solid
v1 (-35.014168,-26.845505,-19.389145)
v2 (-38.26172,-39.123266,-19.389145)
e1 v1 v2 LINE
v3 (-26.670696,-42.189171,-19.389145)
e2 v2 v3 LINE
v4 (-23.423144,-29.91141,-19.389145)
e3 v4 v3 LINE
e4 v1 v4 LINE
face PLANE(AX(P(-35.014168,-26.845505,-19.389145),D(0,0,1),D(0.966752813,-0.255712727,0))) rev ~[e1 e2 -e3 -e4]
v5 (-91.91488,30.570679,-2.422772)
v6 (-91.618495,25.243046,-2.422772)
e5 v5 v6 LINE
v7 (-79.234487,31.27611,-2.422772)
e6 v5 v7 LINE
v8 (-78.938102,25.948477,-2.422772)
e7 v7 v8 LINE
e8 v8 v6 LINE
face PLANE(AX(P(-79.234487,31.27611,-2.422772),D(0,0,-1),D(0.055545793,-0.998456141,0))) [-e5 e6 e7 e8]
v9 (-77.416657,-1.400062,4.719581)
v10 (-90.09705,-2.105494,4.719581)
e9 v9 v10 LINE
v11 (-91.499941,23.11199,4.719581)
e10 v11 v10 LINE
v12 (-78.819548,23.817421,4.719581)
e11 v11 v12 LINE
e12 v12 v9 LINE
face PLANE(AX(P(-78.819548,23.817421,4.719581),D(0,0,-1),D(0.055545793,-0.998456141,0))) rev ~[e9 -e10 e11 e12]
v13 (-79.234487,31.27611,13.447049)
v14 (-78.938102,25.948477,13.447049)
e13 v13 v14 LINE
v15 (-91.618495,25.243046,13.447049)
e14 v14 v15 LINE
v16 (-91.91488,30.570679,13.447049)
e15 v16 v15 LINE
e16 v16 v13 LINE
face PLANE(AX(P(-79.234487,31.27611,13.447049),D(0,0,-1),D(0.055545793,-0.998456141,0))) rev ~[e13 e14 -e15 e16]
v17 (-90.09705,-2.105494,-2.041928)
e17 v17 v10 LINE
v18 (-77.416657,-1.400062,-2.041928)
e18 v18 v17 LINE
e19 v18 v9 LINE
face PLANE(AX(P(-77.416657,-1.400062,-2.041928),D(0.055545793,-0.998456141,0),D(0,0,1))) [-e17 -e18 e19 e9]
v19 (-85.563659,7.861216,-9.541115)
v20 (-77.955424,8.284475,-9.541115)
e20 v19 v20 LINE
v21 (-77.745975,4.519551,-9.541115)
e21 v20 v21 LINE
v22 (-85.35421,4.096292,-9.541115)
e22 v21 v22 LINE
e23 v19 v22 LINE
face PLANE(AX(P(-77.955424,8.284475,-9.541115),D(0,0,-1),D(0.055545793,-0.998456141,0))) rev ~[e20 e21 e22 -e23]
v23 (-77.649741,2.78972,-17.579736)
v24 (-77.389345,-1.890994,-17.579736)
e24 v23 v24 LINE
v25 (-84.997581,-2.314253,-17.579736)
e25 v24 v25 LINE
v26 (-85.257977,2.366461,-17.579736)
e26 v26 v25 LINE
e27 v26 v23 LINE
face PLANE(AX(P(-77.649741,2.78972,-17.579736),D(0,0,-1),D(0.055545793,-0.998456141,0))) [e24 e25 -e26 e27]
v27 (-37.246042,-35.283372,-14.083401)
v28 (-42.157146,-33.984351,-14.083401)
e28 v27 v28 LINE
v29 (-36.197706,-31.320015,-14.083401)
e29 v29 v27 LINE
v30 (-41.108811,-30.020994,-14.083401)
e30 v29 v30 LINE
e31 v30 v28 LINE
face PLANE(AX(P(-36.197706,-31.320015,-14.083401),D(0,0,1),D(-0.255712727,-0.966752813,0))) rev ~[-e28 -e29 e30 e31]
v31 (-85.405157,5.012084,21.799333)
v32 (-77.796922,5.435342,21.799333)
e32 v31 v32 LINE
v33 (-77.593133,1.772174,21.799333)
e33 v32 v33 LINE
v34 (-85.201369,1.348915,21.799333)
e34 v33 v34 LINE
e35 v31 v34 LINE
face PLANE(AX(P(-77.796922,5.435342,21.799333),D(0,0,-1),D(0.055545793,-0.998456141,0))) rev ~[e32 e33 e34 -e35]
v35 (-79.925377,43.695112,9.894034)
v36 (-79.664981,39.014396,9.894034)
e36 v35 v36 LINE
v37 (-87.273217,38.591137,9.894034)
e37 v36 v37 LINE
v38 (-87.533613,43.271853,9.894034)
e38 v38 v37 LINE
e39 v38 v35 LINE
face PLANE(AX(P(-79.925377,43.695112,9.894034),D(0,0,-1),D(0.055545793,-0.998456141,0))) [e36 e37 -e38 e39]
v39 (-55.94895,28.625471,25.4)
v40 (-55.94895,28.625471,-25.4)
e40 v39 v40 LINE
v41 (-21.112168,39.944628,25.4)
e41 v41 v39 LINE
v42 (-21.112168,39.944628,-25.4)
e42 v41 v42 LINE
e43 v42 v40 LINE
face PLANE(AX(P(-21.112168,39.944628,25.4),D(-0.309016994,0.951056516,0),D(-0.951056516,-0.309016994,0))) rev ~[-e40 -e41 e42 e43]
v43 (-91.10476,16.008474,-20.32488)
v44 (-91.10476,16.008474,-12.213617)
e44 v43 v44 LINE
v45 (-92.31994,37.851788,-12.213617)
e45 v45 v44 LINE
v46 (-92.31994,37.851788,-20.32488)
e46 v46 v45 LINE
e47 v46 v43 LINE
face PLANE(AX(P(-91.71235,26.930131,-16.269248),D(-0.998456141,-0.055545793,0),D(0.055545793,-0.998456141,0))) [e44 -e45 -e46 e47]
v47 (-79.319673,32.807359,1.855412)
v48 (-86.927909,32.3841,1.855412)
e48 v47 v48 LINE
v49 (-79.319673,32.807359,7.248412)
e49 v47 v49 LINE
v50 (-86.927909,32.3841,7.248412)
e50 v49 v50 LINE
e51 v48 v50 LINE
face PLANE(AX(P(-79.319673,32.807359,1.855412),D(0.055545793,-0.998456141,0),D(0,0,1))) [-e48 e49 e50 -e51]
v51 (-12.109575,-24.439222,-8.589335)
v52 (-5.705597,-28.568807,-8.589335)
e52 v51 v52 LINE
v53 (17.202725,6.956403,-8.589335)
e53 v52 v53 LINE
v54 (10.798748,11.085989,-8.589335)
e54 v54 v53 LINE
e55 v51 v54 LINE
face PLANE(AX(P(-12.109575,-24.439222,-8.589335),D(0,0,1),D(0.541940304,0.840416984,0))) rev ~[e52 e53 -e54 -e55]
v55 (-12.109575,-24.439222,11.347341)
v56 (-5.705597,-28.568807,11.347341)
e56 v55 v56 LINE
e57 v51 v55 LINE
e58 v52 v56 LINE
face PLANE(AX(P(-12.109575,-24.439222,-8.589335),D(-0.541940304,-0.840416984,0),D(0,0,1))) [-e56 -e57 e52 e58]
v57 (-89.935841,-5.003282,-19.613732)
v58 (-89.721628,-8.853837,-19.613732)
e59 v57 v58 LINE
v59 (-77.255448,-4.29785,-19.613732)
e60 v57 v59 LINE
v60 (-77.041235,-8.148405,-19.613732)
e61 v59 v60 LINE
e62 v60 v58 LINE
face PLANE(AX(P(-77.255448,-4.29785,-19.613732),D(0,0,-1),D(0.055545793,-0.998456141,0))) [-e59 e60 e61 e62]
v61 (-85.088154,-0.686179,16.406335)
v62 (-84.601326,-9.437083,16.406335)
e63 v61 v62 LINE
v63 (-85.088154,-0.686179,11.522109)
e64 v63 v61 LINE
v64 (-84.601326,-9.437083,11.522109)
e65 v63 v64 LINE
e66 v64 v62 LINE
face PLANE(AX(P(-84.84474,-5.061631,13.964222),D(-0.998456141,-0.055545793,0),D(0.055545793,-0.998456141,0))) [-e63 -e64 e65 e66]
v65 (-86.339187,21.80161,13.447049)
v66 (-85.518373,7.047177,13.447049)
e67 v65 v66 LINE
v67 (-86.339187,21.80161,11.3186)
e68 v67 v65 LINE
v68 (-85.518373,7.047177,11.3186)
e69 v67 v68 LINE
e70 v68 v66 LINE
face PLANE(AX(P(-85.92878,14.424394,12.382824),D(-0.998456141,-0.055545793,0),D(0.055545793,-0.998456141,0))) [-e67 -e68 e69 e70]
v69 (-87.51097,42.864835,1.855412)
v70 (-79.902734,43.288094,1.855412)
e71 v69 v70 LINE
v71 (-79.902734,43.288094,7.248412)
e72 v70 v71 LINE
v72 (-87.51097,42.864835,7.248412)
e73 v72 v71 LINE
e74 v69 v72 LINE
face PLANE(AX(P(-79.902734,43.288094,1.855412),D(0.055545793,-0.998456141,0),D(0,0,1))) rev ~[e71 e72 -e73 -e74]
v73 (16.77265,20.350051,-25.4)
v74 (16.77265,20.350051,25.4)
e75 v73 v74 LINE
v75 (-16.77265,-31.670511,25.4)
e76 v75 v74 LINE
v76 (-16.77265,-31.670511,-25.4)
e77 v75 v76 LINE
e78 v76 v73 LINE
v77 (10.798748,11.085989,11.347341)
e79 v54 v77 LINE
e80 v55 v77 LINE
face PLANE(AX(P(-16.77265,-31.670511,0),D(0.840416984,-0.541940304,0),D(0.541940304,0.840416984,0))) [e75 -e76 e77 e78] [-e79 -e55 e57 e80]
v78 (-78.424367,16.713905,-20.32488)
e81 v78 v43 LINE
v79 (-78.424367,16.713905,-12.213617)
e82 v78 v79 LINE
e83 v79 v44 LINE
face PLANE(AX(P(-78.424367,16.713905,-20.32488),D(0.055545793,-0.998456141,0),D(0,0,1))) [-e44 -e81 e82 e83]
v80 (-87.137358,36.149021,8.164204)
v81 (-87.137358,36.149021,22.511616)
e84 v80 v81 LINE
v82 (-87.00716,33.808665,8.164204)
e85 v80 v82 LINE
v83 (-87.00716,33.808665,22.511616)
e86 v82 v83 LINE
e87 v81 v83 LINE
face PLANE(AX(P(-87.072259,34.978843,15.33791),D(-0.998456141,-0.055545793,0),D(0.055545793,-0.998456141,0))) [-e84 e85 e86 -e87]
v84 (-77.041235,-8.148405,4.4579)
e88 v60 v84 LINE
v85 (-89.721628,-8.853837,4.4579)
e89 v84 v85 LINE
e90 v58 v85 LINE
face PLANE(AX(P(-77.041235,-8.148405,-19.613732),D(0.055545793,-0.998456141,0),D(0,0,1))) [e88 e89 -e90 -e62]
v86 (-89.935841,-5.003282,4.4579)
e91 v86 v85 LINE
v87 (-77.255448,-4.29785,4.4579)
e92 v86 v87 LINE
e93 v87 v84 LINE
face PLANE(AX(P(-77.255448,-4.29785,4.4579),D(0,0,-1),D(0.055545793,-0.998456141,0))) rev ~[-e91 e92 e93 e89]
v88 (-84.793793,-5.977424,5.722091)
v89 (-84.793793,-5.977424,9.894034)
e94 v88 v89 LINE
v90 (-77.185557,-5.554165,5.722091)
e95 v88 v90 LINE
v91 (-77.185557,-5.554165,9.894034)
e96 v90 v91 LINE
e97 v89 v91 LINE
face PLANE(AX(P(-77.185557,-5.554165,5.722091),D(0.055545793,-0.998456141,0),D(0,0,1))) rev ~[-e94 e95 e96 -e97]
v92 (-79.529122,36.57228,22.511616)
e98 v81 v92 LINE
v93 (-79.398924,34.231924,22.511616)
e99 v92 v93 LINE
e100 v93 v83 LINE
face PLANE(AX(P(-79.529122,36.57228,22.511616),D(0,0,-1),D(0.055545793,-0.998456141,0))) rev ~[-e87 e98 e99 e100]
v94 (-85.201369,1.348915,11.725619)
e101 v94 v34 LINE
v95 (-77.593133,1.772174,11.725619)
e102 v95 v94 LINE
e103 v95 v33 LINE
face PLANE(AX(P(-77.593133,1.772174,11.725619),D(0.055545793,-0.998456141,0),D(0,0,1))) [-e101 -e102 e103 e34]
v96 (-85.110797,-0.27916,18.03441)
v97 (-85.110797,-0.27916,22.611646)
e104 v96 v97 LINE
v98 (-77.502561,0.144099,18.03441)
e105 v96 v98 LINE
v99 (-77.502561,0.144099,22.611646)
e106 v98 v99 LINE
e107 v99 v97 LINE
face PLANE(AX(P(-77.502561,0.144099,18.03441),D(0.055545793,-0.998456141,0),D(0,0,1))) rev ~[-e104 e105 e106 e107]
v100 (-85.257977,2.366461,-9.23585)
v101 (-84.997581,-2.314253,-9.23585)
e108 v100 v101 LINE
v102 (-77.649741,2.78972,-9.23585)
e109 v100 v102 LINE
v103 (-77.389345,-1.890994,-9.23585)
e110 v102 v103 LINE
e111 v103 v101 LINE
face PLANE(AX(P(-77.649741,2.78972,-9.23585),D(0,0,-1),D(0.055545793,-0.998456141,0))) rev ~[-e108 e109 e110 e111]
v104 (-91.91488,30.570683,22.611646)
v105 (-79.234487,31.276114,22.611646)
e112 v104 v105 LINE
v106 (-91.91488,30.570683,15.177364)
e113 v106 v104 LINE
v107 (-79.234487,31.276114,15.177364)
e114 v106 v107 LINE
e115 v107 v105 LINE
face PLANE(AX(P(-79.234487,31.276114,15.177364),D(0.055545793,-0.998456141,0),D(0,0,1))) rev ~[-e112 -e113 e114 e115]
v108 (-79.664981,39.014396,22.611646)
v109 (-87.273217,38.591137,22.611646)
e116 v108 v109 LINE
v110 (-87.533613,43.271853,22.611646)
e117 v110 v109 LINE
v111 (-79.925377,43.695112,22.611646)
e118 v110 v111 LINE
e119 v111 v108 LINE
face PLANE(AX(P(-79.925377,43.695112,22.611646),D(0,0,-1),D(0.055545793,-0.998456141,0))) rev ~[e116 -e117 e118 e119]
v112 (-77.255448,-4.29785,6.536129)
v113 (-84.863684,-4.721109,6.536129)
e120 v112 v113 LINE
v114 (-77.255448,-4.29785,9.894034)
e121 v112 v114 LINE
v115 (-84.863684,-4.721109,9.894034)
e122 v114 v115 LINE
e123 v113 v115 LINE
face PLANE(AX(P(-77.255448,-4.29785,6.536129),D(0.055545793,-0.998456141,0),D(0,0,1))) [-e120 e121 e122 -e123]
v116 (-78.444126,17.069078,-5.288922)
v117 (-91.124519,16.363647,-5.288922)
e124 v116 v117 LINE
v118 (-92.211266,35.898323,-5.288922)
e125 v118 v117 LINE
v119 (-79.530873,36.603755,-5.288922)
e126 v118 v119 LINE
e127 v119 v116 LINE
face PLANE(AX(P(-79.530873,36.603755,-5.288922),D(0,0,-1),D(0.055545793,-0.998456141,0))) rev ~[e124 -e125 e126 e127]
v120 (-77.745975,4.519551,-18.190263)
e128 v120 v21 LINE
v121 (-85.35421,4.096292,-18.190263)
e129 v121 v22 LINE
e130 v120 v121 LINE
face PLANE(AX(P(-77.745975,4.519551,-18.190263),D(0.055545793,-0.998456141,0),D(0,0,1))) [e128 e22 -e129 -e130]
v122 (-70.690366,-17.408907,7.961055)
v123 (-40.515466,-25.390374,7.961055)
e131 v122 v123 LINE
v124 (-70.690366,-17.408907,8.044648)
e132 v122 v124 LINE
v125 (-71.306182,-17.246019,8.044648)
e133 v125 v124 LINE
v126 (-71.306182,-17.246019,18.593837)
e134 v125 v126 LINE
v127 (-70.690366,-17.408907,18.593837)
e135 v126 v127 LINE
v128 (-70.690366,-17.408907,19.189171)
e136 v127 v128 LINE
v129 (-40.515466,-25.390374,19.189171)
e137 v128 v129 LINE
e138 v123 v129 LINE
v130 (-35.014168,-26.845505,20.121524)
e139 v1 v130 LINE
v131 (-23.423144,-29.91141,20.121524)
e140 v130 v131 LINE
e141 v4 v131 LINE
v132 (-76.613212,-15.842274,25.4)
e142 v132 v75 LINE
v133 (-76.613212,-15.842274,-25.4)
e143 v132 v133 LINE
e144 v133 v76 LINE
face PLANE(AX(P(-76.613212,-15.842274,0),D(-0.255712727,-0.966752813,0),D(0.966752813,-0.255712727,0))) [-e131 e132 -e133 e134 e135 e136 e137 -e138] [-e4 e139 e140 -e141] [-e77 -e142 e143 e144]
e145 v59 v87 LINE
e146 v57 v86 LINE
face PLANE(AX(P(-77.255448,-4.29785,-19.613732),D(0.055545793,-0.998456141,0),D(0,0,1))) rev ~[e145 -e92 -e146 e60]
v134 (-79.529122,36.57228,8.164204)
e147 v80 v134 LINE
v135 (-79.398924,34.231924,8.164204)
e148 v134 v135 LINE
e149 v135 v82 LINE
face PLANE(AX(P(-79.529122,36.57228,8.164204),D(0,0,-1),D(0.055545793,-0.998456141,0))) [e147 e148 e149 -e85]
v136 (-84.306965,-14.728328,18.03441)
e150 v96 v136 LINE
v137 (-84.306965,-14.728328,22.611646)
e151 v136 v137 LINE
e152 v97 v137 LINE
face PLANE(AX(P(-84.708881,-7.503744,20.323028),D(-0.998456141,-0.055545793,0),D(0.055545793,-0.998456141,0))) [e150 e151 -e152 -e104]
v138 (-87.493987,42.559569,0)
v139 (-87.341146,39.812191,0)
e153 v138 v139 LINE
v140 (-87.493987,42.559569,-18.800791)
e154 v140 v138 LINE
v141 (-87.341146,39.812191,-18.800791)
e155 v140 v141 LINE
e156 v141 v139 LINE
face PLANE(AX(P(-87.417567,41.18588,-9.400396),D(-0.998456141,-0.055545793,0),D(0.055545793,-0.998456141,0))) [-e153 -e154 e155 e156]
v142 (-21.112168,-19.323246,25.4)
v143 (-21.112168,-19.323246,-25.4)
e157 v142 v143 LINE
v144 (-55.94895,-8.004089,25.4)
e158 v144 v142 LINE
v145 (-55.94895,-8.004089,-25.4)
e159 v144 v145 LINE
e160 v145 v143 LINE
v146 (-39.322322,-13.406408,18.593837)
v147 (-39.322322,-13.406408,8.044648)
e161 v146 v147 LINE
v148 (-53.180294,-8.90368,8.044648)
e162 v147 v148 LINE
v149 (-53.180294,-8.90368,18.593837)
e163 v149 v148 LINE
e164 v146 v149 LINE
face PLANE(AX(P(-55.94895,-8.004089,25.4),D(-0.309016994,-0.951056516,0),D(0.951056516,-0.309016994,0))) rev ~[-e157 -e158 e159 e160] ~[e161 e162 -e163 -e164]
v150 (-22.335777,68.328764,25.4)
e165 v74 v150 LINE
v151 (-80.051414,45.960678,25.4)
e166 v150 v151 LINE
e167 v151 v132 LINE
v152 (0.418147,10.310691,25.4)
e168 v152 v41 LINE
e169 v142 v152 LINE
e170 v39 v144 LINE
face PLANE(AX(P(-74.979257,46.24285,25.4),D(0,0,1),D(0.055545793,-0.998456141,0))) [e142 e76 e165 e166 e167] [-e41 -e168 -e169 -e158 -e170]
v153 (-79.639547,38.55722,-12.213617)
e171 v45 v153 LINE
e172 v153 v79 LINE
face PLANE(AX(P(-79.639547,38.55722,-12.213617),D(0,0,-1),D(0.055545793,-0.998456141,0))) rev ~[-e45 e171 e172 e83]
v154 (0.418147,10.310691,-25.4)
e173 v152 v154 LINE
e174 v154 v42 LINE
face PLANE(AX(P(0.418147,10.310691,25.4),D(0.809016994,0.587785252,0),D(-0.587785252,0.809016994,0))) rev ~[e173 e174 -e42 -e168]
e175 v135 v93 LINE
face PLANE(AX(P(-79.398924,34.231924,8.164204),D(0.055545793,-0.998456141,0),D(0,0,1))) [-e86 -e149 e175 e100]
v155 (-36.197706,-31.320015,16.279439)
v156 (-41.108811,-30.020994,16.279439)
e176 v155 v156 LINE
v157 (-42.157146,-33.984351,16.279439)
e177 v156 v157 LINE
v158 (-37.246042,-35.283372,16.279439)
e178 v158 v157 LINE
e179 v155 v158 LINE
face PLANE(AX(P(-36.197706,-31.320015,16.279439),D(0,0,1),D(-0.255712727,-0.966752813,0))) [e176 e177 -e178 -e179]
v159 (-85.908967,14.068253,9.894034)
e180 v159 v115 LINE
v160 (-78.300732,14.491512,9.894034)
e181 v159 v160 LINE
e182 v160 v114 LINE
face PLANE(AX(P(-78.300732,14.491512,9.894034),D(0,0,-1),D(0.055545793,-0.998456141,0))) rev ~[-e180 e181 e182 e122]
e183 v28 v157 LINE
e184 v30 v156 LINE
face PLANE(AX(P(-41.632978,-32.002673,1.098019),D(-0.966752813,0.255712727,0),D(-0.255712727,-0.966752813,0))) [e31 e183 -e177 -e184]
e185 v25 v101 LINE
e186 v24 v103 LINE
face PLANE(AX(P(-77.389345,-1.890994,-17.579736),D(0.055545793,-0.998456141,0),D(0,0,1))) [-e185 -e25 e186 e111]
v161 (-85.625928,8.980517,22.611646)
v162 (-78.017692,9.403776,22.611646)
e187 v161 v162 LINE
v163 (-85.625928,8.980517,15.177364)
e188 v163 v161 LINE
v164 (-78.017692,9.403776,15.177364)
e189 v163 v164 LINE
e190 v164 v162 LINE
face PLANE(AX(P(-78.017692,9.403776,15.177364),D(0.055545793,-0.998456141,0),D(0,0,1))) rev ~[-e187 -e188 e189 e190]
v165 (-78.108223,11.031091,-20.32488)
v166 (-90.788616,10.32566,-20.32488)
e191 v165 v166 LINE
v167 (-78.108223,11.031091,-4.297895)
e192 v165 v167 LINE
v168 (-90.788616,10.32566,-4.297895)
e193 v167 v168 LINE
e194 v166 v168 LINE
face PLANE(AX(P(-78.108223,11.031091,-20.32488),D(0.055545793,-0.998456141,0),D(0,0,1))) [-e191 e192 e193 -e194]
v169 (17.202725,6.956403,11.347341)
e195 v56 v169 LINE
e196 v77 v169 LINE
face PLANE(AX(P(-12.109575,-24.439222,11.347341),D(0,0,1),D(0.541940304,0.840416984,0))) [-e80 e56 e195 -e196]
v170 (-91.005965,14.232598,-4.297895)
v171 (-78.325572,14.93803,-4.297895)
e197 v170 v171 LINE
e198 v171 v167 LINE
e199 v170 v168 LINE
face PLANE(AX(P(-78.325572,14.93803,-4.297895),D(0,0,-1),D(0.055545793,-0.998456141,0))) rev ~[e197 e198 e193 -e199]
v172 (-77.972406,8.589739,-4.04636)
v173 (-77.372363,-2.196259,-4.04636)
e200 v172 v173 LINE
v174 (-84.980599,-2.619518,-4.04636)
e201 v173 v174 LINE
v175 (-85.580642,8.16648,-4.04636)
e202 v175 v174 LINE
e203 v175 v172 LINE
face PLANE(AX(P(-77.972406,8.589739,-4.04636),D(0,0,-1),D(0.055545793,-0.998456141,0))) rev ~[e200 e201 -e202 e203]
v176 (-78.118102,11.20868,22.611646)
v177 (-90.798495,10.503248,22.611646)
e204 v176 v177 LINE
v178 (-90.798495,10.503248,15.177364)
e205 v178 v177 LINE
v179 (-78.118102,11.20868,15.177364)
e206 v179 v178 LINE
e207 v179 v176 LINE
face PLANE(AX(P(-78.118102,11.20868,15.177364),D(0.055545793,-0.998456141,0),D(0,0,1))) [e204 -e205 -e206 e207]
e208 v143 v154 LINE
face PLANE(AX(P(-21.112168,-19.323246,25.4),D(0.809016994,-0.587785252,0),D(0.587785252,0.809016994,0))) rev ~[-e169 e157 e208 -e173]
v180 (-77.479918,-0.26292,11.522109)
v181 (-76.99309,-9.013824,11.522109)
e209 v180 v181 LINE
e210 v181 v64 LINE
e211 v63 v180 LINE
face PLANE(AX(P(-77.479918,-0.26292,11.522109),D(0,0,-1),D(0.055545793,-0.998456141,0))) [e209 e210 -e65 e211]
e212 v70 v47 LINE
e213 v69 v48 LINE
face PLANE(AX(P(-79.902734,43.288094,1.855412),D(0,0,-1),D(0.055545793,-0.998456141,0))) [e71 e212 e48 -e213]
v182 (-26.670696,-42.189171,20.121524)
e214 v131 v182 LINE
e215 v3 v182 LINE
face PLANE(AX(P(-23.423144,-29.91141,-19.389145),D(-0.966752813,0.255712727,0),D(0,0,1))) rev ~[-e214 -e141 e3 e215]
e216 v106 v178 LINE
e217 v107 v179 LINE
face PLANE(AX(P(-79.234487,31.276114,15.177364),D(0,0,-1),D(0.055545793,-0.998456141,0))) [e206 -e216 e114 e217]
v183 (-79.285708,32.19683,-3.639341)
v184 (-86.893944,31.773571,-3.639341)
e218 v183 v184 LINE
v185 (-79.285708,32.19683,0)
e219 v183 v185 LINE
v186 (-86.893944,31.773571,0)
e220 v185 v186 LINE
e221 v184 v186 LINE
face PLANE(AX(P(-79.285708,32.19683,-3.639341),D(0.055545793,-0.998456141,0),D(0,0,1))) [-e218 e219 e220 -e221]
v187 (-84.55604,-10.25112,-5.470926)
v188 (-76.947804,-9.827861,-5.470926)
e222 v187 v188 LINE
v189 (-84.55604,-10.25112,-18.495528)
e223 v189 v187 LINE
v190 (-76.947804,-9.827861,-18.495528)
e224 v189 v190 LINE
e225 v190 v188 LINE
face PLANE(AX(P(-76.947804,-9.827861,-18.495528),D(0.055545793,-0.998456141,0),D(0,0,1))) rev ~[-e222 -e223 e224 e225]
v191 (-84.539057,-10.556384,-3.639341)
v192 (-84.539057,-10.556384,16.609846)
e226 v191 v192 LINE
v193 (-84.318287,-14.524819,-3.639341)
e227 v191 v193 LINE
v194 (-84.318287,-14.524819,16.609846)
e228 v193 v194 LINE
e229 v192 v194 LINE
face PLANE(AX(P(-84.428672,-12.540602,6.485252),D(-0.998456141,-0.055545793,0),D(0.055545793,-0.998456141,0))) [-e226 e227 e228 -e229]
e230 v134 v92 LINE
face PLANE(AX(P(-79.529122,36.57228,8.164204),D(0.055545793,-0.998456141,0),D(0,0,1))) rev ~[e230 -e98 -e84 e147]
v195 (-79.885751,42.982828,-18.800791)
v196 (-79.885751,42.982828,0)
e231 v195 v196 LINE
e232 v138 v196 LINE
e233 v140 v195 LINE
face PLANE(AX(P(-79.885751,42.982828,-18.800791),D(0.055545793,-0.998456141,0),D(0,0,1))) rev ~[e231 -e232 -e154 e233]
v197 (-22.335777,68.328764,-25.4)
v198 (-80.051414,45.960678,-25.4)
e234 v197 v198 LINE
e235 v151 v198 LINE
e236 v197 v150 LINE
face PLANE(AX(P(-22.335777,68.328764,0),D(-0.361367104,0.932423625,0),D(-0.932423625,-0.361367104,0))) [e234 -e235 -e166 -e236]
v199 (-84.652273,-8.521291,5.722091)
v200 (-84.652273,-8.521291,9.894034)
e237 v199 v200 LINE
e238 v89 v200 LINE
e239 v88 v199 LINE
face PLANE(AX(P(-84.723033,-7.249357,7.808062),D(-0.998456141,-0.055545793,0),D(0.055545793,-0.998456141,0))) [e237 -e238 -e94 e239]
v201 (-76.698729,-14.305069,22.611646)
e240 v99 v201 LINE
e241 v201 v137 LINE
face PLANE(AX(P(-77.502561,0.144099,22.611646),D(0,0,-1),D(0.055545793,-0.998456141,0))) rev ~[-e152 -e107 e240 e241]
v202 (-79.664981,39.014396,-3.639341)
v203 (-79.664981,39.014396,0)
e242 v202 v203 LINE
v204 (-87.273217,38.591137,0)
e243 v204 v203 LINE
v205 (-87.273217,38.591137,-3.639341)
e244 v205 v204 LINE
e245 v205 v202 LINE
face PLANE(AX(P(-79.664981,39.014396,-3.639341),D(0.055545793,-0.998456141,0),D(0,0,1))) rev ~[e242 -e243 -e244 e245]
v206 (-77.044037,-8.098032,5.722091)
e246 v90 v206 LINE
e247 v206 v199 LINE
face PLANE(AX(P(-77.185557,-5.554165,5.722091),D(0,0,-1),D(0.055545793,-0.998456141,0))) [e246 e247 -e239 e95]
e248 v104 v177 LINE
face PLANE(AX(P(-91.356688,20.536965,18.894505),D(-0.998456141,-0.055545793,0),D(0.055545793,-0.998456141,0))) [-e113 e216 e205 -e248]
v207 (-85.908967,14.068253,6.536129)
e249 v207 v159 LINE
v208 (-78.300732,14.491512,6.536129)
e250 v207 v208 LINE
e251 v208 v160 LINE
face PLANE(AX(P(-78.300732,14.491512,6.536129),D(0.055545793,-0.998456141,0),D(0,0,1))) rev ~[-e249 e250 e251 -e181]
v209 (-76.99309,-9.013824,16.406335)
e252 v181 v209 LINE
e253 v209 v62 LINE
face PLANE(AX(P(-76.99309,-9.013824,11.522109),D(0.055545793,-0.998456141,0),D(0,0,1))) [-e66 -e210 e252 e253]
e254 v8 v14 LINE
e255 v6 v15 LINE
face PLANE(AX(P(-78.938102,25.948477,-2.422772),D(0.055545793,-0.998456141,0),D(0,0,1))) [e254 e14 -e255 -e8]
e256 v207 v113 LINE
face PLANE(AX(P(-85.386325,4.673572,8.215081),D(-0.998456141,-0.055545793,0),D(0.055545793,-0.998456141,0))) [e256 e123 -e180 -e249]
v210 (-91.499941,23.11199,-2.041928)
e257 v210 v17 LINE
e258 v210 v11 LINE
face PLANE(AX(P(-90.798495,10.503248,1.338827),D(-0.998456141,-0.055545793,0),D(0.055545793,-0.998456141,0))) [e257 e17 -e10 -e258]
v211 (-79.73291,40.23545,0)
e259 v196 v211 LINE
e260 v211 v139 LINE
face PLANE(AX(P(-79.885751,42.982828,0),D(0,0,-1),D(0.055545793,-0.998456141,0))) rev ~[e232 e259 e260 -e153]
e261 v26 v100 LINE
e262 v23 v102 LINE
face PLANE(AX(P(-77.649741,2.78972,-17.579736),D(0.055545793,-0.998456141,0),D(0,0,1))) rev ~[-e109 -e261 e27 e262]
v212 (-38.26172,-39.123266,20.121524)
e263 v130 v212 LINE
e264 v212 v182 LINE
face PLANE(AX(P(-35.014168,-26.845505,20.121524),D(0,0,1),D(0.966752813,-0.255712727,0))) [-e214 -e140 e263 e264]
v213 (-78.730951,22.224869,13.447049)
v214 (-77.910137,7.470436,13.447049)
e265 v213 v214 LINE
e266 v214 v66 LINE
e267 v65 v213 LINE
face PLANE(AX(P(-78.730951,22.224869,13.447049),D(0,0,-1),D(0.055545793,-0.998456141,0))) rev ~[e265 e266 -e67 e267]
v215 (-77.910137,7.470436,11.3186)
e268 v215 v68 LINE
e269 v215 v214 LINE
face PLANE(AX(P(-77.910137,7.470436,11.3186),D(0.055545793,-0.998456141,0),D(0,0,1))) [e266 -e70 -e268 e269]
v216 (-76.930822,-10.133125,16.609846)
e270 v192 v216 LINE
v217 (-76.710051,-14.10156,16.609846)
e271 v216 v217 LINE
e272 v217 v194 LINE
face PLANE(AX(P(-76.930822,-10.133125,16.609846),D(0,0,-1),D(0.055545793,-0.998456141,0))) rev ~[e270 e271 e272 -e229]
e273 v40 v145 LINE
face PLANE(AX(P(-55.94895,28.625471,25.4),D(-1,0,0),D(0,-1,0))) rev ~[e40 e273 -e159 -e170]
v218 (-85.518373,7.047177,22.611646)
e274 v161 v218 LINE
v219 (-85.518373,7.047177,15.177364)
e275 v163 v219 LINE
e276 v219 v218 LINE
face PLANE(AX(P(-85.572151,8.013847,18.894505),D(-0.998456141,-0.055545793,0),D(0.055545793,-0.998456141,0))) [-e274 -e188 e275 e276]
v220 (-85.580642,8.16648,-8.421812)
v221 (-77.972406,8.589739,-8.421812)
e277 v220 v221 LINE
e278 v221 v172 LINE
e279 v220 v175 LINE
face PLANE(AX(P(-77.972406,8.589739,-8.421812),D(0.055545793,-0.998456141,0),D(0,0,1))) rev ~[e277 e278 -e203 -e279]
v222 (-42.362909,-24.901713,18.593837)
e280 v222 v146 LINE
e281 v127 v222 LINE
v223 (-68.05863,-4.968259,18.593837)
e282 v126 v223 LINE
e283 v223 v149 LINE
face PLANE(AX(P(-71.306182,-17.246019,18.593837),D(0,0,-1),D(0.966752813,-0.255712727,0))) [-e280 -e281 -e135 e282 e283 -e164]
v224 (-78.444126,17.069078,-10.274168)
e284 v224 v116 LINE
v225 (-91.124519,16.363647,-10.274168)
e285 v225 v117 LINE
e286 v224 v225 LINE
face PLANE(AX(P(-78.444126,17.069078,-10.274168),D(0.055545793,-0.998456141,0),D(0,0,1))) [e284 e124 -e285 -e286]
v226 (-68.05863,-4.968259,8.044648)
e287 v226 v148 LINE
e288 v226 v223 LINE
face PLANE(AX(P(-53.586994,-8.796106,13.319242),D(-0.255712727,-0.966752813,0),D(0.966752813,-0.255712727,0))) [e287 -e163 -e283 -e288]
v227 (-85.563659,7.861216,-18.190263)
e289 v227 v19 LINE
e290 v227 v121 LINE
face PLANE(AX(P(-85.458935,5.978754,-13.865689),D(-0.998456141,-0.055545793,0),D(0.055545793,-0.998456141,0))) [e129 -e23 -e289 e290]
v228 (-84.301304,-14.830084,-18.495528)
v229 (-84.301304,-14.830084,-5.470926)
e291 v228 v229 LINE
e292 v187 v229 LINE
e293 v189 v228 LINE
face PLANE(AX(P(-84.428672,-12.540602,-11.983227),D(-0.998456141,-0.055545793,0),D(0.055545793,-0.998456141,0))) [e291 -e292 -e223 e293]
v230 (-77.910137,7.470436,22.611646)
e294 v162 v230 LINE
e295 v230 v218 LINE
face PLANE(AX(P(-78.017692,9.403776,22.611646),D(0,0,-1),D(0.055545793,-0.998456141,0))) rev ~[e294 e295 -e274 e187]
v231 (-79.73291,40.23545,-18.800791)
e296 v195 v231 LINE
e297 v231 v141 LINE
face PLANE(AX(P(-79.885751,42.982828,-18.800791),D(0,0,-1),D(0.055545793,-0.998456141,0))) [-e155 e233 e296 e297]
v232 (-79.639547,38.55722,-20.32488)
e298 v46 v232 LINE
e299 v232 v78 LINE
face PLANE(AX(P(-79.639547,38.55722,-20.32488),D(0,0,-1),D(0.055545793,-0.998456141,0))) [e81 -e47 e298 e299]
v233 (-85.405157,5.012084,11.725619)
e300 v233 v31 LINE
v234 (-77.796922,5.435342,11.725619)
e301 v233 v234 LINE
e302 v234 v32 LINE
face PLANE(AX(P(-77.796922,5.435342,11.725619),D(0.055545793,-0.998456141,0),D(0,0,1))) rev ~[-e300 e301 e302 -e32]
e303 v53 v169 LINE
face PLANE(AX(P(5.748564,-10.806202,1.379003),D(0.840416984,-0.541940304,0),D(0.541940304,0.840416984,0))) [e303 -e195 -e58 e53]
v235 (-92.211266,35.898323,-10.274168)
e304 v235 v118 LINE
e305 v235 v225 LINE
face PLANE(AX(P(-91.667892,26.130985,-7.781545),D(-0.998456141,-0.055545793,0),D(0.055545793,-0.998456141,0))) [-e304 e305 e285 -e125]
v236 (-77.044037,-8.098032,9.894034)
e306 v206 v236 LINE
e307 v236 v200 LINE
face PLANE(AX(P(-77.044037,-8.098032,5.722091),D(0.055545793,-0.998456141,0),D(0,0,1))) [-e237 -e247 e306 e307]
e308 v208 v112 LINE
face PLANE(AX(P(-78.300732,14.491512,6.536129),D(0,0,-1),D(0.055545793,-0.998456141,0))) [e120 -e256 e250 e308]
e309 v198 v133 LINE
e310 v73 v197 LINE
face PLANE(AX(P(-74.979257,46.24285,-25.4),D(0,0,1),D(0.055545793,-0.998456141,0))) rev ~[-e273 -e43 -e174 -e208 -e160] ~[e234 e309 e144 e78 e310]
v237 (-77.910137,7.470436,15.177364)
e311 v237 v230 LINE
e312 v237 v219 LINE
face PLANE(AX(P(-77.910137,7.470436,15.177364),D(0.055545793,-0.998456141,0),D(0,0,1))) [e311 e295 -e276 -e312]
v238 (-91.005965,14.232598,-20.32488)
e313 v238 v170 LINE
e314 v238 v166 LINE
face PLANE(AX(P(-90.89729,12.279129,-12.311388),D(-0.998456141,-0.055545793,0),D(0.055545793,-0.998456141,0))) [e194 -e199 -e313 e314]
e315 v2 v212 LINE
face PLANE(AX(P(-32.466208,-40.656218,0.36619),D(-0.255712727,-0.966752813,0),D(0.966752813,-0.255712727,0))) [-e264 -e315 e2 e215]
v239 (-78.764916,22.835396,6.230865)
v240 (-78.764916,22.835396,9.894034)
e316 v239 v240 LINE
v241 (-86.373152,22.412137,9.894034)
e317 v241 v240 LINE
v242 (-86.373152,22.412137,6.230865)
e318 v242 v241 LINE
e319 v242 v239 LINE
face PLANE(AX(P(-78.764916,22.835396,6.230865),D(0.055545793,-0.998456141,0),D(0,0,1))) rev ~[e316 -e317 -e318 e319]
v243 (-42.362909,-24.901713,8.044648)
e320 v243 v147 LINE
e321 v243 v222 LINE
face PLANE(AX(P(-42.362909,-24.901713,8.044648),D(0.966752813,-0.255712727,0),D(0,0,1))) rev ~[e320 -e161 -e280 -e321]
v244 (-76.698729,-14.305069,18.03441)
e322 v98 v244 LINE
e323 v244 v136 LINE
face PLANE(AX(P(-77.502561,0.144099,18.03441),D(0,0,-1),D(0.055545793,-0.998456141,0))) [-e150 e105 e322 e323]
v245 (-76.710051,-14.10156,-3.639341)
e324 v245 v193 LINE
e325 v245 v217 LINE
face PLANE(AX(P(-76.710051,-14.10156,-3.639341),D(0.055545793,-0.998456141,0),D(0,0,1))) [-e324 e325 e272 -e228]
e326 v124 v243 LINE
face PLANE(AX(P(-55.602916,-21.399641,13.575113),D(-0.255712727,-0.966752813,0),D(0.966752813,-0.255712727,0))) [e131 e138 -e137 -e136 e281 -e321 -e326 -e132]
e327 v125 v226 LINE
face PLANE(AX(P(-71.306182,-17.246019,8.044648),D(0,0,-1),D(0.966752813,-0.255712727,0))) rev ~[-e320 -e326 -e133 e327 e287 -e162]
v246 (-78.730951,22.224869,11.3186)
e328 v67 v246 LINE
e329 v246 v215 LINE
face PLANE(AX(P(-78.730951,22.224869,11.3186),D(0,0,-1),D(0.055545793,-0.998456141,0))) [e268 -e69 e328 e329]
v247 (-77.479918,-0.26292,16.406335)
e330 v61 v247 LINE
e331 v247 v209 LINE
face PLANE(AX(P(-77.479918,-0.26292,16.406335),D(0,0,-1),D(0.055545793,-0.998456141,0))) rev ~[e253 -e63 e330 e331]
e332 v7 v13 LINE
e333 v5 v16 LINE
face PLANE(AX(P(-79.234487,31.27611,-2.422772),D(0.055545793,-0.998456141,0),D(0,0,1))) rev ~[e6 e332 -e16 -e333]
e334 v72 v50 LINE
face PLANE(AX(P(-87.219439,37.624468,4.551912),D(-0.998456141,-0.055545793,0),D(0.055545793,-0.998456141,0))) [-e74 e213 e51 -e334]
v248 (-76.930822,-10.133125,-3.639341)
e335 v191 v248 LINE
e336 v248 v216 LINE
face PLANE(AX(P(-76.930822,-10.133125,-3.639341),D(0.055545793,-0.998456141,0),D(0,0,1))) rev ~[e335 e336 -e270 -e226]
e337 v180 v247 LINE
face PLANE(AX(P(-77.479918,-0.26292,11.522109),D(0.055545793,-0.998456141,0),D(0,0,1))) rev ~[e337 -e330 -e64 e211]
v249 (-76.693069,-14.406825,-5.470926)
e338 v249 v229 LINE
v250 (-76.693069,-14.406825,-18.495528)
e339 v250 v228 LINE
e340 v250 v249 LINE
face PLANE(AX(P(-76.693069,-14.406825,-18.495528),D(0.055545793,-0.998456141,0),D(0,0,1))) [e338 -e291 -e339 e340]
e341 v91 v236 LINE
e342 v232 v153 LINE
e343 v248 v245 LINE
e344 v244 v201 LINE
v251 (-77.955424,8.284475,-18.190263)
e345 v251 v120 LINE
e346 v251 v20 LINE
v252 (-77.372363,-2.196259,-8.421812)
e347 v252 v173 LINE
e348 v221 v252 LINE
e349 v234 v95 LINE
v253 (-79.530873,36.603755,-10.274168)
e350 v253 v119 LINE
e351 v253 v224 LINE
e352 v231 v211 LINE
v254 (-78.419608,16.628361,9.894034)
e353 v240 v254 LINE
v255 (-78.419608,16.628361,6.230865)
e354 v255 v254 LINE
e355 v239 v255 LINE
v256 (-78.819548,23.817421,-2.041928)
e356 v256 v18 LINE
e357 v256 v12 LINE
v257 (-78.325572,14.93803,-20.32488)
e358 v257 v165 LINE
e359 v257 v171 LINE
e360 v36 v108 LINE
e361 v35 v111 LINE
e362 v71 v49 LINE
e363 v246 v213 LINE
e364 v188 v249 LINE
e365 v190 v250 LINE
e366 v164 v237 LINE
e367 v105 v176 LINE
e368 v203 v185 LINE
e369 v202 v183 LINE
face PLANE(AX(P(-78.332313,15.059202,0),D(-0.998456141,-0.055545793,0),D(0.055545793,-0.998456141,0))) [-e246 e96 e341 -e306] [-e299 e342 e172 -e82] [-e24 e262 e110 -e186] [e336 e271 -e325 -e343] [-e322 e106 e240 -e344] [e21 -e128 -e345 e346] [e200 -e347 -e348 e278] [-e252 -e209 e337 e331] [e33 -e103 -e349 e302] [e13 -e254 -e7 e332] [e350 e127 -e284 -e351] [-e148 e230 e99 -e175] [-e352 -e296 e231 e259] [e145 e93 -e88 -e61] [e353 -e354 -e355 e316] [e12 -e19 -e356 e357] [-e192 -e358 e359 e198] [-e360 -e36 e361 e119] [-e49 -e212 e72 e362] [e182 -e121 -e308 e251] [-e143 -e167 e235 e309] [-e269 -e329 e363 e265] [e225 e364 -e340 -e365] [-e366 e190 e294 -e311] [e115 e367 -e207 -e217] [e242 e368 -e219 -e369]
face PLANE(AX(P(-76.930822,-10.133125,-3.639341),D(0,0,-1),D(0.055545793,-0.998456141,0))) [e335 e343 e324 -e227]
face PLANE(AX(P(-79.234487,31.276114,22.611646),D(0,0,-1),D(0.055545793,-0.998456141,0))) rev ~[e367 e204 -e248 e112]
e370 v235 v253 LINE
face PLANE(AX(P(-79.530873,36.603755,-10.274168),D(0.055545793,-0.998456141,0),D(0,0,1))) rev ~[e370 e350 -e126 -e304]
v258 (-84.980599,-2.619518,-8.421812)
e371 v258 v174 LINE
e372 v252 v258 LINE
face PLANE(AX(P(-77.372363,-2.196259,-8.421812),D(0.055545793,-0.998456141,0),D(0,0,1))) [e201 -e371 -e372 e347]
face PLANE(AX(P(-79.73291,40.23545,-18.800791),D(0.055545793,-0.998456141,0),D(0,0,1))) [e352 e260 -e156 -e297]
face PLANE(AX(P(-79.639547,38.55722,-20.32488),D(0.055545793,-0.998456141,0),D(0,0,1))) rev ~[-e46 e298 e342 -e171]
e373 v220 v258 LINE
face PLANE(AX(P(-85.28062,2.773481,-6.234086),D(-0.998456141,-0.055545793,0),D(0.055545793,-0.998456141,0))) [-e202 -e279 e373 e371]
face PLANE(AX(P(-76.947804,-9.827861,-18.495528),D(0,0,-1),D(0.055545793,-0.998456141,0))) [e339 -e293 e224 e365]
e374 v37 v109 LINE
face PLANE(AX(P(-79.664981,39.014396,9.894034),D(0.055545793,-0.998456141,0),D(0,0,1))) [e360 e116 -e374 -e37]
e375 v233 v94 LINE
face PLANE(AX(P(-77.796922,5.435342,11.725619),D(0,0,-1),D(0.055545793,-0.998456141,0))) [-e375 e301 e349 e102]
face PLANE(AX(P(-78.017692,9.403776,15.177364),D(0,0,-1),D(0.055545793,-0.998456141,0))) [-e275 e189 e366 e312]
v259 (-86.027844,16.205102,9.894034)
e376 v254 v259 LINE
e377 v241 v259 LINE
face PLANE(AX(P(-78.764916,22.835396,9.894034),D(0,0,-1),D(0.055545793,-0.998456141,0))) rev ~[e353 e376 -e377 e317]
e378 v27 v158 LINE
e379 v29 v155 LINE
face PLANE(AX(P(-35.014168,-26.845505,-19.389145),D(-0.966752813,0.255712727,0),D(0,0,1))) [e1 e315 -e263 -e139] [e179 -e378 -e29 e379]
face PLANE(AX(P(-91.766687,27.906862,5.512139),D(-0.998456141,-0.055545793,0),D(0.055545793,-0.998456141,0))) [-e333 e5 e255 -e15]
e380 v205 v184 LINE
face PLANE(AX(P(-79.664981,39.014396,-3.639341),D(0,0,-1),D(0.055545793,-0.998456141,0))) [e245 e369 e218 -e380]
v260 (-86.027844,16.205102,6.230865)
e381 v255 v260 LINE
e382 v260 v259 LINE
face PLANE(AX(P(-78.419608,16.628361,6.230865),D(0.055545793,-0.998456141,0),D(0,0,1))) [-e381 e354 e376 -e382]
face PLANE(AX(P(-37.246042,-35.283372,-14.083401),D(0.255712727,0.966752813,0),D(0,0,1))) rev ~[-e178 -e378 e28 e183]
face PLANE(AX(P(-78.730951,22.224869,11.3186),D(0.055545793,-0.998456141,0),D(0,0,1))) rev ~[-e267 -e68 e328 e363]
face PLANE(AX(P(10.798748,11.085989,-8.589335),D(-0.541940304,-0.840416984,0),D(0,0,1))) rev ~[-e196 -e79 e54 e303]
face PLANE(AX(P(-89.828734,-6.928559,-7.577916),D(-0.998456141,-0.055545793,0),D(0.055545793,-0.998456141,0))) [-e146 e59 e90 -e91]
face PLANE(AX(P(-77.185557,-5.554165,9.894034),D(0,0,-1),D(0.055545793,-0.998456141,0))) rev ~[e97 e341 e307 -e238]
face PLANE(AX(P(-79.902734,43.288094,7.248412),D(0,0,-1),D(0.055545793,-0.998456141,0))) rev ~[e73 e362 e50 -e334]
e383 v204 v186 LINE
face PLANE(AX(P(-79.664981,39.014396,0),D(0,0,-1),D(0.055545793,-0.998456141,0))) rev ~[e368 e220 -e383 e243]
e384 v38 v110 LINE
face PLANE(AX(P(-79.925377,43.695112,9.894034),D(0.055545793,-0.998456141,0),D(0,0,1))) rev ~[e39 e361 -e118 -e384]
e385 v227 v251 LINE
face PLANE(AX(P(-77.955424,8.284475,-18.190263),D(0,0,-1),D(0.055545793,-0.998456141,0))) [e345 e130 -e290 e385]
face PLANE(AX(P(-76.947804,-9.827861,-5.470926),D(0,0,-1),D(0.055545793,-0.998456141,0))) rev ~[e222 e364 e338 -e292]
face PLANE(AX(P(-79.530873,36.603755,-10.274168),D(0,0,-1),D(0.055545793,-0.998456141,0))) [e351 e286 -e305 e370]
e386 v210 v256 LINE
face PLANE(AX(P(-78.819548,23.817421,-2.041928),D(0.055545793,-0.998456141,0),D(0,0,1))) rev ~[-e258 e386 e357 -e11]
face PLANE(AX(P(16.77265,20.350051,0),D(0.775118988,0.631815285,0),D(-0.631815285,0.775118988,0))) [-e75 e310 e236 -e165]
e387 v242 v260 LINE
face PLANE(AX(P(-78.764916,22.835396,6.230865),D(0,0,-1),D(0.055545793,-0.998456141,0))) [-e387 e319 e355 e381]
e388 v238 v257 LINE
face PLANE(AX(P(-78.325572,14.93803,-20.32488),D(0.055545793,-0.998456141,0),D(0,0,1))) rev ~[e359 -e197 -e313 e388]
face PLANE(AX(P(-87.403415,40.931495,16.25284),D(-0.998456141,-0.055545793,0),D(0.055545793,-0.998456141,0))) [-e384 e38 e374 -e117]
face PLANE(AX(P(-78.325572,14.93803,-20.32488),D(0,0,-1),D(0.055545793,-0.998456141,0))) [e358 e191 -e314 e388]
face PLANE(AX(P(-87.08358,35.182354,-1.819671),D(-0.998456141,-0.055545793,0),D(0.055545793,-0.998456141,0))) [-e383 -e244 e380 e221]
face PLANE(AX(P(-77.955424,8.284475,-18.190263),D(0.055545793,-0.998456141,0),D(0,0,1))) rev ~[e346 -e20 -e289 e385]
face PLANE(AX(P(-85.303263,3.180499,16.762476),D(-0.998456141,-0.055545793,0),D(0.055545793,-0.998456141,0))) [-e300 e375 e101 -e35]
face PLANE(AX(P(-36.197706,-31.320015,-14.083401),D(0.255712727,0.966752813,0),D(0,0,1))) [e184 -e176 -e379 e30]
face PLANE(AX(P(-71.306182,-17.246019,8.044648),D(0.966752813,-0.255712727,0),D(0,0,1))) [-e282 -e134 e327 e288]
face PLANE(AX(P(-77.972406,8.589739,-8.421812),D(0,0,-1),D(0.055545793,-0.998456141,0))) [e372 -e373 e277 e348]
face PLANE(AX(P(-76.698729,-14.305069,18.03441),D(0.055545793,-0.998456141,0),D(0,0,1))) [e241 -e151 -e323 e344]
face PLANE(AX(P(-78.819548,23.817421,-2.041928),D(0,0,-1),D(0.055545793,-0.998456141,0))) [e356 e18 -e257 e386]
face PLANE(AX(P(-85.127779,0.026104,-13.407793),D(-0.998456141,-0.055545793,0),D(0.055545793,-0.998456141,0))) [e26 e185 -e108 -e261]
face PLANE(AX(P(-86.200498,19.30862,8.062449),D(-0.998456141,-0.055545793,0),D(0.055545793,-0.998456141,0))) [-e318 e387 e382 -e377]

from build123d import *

# Parameters (mm, degrees)
F1_DEPTH  = 25.4
F2_DEPTH  = 25.4
F3_W      = 42.2709332779
F3_H      = 19.9366761371
F4_DEPTH  = 7.62
F5_W      = 11.9896456599
F5_H      = 39.5106691867
F6_DEPTH  = 12.7
F7_W      = 31.212631613
F7_H      = 11.2281162292
F8_DEPTH  = 7.62
F9_W      = 29.9386493862
F9_H      = 10.5491885915
F10_DEPTH = 12.7
F11_W     = 4.0996596217
F11_H     = 30.3628398106
F12_DEPTH = 5.08
F13_W     = 20.0984636322
F13_H     = 7.4342815205
F13_W_2   = 5.3358711302
F13_H_2   = 15.8698209561
F13_W_3   = 25.2564756665
F13_H_3   = 6.7615092266
F13_W_4   = 3.9129797369
F13_H_4   = 16.0269849002
F13_W_5   = 19.5648819208
F13_H_5   = 4.9852463417
F13_W_6   = 21.8770895153
F13_H_6   = 8.1112636253
F13_W_7   = 3.8565089926
F13_H_7   = 24.0716314875
F14_DEPTH = 12.7
F15_W     = 2.3439750075
F15_H     = 14.3474126235
F15_W_2   = 10.4969404638
F15_H_2   = 5.3929993883
F15_W_3   = 4.6879537404
F15_H_3   = 12.7176120877
F15_W_4   = 2.7516260743
F15_H_4   = 18.800791353
F15_W_5   = 6.8281069398
F15_H_5   = 3.639341332
F15_W_6   = 10.8026759699
F15_H_6   = 4.3754521757
F15_W_7   = 4.6879523434
F15_H_7   = 8.343886584
F15_W_8   = 3.7707453594
F15_H_8   = 8.649148047
F15_W_9   = 6.2166322023
F15_H_9   = 3.6631692201
F15_W_10  = 14.7772468626
F15_H_10  = 2.1284492686
F15_W_11  = 18.8184157014
F15_H_11  = 3.3579049632
F15_W_12  = 3.6688325927
F15_H_12  = 10.0737148896
F15_W_13  = 1.9363295287
F15_H_13  = 7.4342815205
F15_W_14  = 14.4715099595
F15_H_14  = 4.57723625
F15_W_15  = 8.7644355372
F15_H_15  = 4.8842262477
F15_W_16  = 3.9745708928
F15_H_16  = 20.249187015
F15_W_17  = 2.5478007738
F15_H_17  = 4.1719428264
F15_W_18  = 4.586043302
F15_H_18  = 13.0246016197
F16_DEPTH = 7.62
F17_W     = 61.8985138723
F17_H     = 50.8
F17_W_2   = 21.8770895153
F17_H_2   = 8.1112636253
F17_W_3   = 2.7516260743
F17_H_3   = 18.800791353
F17_W_4   = 6.8281069398
F17_H_4   = 3.639341332
F17_W_5   = 19.5648819208
F17_H_5   = 4.9852463417
F17_W_6   = 3.7707453594
F17_H_6   = 8.649148047
F17_W_7   = 4.6879523434
F17_H_7   = 8.343886584
F17_W_8   = 3.9129797369
F17_H_8   = 16.0269849002
F17_W_9   = 10.8026759699
F17_H_9   = 4.3754521757
F17_W_10  = 3.8565089926
F17_H_10  = 24.0716314875
F17_W_11  = 4.586043302
F17_H_11  = 13.0246016197
F17_W_12  = 10.4969404638
F17_H_12  = 5.3929993883
F17_W_13  = 5.3358711302
F17_H_13  = 15.8698209561
F17_W_14  = 6.2166322023
F17_H_14  = 3.6631692201
F17_W_15  = 4.6879537404
F17_H_15  = 12.7176120877
F17_W_16  = 2.3439750075
F17_H_16  = 14.3474126235
F17_W_17  = 20.0984636322
F17_H_17  = 7.4342815205
F17_W_18  = 25.2564756665
F17_H_18  = 6.7615092266
F17_W_19  = 14.7772468626
F17_H_19  = 2.1284492686
F17_W_20  = 18.8184157014
F17_H_20  = 3.3579049632
F17_W_21  = 2.5478007738
F17_H_21  = 4.1719428264
F17_W_22  = 3.9745708928
F17_H_22  = 20.249187015
F17_W_23  = 1.9363295287
F17_W_24  = 3.6688325927
F17_H_23  = 10.0737148896
F17_W_25  = 8.7644355372
F17_H_24  = 4.8842262477
F17_W_26  = 14.4715099595
F17_H_25  = 4.57723625
F18_DEPTH = 5.08
F20_DEPTH = 76.2
F21_DEPTH = 5.08


with BuildPart() as f1:
    # F0 (on Top) → F1 (new body)
    with BuildSketch(Plane.XY):
        Polygon((-16.7726497146, -31.6705114622), (16.7726497146, 20.3500508744), (-22.335777472, 68.3287643065), (-80.051414149, 45.9606776074), (-76.6132121111, -15.842273668), align=None)
    extrude(amount=F1_DEPTH)

    # F2 (add): a face of the model
    f2_faces = [f1.faces().sort_by_distance(p)[0] for p in [
        (-35.8000807464, 17.4253415316, 0),
    ]]
    extrude(f2_faces, amount=F2_DEPTH)

    # F3 (on face) → F4 (join)
    with BuildSketch(Plane(origin=(2.5779849193, -1.6624056365, 0), x_dir=(0.5419403041, 0.8404169839, 0), z_dir=(0.8404169839, -0.5419403041, 0))):
        with Locations((-5.966336932, 1.3790032826)):
            Rectangle(F3_W, F3_H)
    extrude(amount=F4_DEPTH)

    # F5 (on face) → F6 (join)
    with BuildSketch(Plane(origin=(-8.9260455296, -33.7459919046, 0), x_dir=(0.9667528128, -0.2557127272, 0), z_dir=(-0.2557127272, -0.9667528128, 0))):
        with Locations((-20.9904853255, 0.3661895171)):
            Rectangle(F5_W, F5_H)
    extrude(amount=F6_DEPTH)

    # F7 (on face) → F8 (join)
    with BuildSketch(Plane(origin=(-8.9260455296, -33.7459919046, 0), x_dir=(0.9667528128, -0.2557127272, 0), z_dir=(-0.2557127272, -0.9667528128, 0))):
        with Locations((-48.2821147889, 13.5751133785)):
            Rectangle(F7_W, F7_H)
    extrude(amount=-F8_DEPTH)

    # F9 (on face) → F10 (cut)
    with BuildSketch(Plane(origin=(-8.9260455296, -33.7459919046, 0), x_dir=(0.9667528128, -0.2557127272, 0), z_dir=(-0.2557127272, -0.9667528128, 0))):
        with Locations((-49.556100741, 13.31924228)):
            Rectangle(F9_W, F9_H)
    extrude(amount=-F10_DEPTH, mode=Mode.SUBTRACT)

    # F11 (on face) → F12 (join)
    with BuildSketch(Plane(origin=(-26.0881225645, 6.9004867437, 0), x_dir=(-0.2557127272, -0.9667528128, 0), z_dir=(-0.9667528128, 0.2557127272, 0))):
        with Locations((41.5847562253, 1.0980186053)):
            Rectangle(F11_W, F11_H)
    extrude(amount=F12_DEPTH)

    # F13 (on face) → F14 (join)
    with BuildSketch(Plane(origin=(-77.2554477784, -4.2978503859, 0), x_dir=(0.055545793, -0.9984561407, 0), z_dir=(-0.9984561407, -0.055545793, 0))):
        with Locations((-25.5797388963, 18.8945052214)):
            Rectangle(F13_W, F13_H)
        with Locations((-32.961031422, 5.5121385958)):
            Rectangle(F13_W_2, F13_H_2)
        with Locations((-15.5305069638, 1.3388268417)):
            Rectangle(F13_W_3, F13_H_3)
        with Locations((-17.3091338947, -12.3113878071)):
            Rectangle(F13_W_4, F13_H_4)
        with Locations((-31.1824083328, -7.7815449331)):
            Rectangle(F13_W_5, F13_H_5)
        with Locations((-31.9827897474, -16.2692484446)):
            Rectangle(F13_W_6, F13_H_6)
        with Locations((1.9282544963, -7.5779159088)):
            Rectangle(F13_W_7, F13_H_7)
    extrude(amount=F14_DEPTH)

    # F15 (on face) → F16 (join)
    with BuildSketch(Plane(origin=(-77.2554477784, -4.2978503859, 0), x_dir=(0.055545793, -0.9984561407, 0), z_dir=(-0.9984561407, -0.055545793, 0))):
        with Locations((-39.761338383, 15.3379100375)):
            Rectangle(F15_W, F15_H)
        with Locations((-42.4110535532, 4.5519121923)):
            Rectangle(F15_W_2, F15_H_2)
        with Locations((-45.7231942564, 16.2528399378)):
            Rectangle(F15_W_3, F15_H_3)
        with Locations((-45.9779724479, -9.4003956765)):
            Rectangle(F15_W_4, F15_H_4)
        with Locations((-39.9651639163, -1.819670666)):
            Rectangle(F15_W_5, F15_H_5)
        with Locations((-7.5061791576, -6.2340861186)):
            Rectangle(F15_W_6, F15_H_6)
        with Locations((-4.7545537818, -13.407792896)):
            Rectangle(F15_W_7, F15_H_7)
        with Locations((-10.7164080255, -13.8656888157)):
            Rectangle(F15_W_8, F15_H_8)
        with Locations((-24.066885002, 8.0624492839)):
            Rectangle(F15_W_9, F15_H_9)
        with Locations((-19.1751066595, 12.3828244396)):
            Rectangle(F15_W_10, F15_H_10)
        with Locations((-9.4092078507, 8.2150814123)):
            Rectangle(F15_W_11, F15_H_11)
        with Locations((-7.9138264991, 16.7624759488)):
            Rectangle(F15_W_12, F15_H_12)
        with Locations((-12.7546479926, 18.8945052214)):
            Rectangle(F15_W_13, F15_H_13)
        with Locations((2.7869374026, 20.3230278566)):
            Rectangle(F15_W_14, F15_H_14)
        with Locations((0.3410479985, 13.9642218128)):
            Rectangle(F15_W_15, F15_H_15)
        with Locations((7.8315832652, 6.4852521755)):
            Rectangle(F15_W_16, F15_H_16)
        with Locations((2.5321574649, 7.8080624808)):
            Rectangle(F15_W_17, F15_H_17)
        with Locations((7.831583498, -11.9832272176)):
            Rectangle(F15_W_18, F15_H_18)
    extrude(amount=F16_DEPTH)

    # F17 (on face) → F18 (cut)
    with BuildSketch(Plane(origin=(-77.2554477784, -4.2978503859, 0), x_dir=(0.055545793, -0.9984561407, 0), z_dir=(-0.9984561407, -0.055545793, 0))):
        with Locations((-19.38698313, 0)):
            Rectangle(F17_W, F17_H)
        with Locations((-31.9827897474, -16.2692484446)):
            Rectangle(F17_W_2, F17_H_2, mode=Mode.SUBTRACT)
        with Locations((-45.9779724479, -9.4003956765)):
            Rectangle(F17_W_3, F17_H_3, mode=Mode.SUBTRACT)
        with Locations((-39.9651639163, -1.819670666)):
            Rectangle(F17_W_4, F17_H_4, mode=Mode.SUBTRACT)
        with Locations((-31.1824083328, -7.7815449331)):
            Rectangle(F17_W_5, F17_H_5, mode=Mode.SUBTRACT)
        with Locations((-10.7164080255, -13.8656888157)):
            Rectangle(F17_W_6, F17_H_6, mode=Mode.SUBTRACT)
        with Locations((-4.7545537818, -13.407792896)):
            Rectangle(F17_W_7, F17_H_7, mode=Mode.SUBTRACT)
        with Locations((-17.3091338947, -12.3113878071)):
            Rectangle(F17_W_8, F17_H_8, mode=Mode.SUBTRACT)
        with Locations((-7.5061791576, -6.2340861186)):
            Rectangle(F17_W_9, F17_H_9, mode=Mode.SUBTRACT)
        with Locations((1.9282544963, -7.5779159088)):
            Rectangle(F17_W_10, F17_H_10, mode=Mode.SUBTRACT)
        with Locations((7.831583498, -11.9832272176)):
            Rectangle(F17_W_11, F17_H_11, mode=Mode.SUBTRACT)
        with Locations((-42.4110535532, 4.5519121923)):
            Rectangle(F17_W_12, F17_H_12, mode=Mode.SUBTRACT)
        with Locations((-32.961031422, 5.5121385958)):
            Rectangle(F17_W_13, F17_H_13, mode=Mode.SUBTRACT)
        with Locations((-24.066885002, 8.0624492839)):
            Rectangle(F17_W_14, F17_H_14, mode=Mode.SUBTRACT)
        with Locations((-45.7231942564, 16.2528399378)):
            Rectangle(F17_W_15, F17_H_15, mode=Mode.SUBTRACT)
        with Locations((-39.761338383, 15.3379100375)):
            Rectangle(F17_W_16, F17_H_16, mode=Mode.SUBTRACT)
        with Locations((-25.5797388963, 18.8945052214)):
            Rectangle(F17_W_17, F17_H_17, mode=Mode.SUBTRACT)
        with Locations((-15.5305069638, 1.3388268417)):
            Rectangle(F17_W_18, F17_H_18, mode=Mode.SUBTRACT)
        with Locations((-19.1751066595, 12.3828244396)):
            Rectangle(F17_W_19, F17_H_19, mode=Mode.SUBTRACT)
        with Locations((-9.4092078507, 8.2150814123)):
            Rectangle(F17_W_20, F17_H_20, mode=Mode.SUBTRACT)
        with Locations((2.5321574649, 7.8080624808)):
            Rectangle(F17_W_21, F17_H_21, mode=Mode.SUBTRACT)
        with Locations((7.8315832652, 6.4852521755)):
            Rectangle(F17_W_22, F17_H_22, mode=Mode.SUBTRACT)
        with Locations((-12.7546479926, 18.8945052214)):
            Rectangle(F17_W_23, F17_H_17, mode=Mode.SUBTRACT)
        with Locations((-7.9138264991, 16.7624759488)):
            Rectangle(F17_W_24, F17_H_23, mode=Mode.SUBTRACT)
        with Locations((0.3410479985, 13.9642218128)):
            Rectangle(F17_W_25, F17_H_24, mode=Mode.SUBTRACT)
        with Locations((2.7869374026, 20.3230278566)):
            Rectangle(F17_W_26, F17_H_25, mode=Mode.SUBTRACT)
    extrude(amount=-F18_DEPTH, mode=Mode.SUBTRACT)

    # F19 (on face) → F20 (cut)
    with BuildSketch(Plane.XY.offset(25.4)):
        Polygon((-55.9489503503, 28.6254710477), (-55.9489503503, -8.0040893477), (-21.1121682472, -19.3232460063), (0.4181471511, 10.31069085), (-21.1121682472, 39.9446277064), align=None)
    extrude(amount=-F20_DEPTH, mode=Mode.SUBTRACT)

    # F21 (add): a face of the model
    f21_faces = [f1.faces().sort_by_distance(p)[0] for p in [
        (-71.5855334196, -14.7605835197, 0),
    ]]
    extrude(f21_faces, amount=F21_DEPTH)


solid = f1.part
